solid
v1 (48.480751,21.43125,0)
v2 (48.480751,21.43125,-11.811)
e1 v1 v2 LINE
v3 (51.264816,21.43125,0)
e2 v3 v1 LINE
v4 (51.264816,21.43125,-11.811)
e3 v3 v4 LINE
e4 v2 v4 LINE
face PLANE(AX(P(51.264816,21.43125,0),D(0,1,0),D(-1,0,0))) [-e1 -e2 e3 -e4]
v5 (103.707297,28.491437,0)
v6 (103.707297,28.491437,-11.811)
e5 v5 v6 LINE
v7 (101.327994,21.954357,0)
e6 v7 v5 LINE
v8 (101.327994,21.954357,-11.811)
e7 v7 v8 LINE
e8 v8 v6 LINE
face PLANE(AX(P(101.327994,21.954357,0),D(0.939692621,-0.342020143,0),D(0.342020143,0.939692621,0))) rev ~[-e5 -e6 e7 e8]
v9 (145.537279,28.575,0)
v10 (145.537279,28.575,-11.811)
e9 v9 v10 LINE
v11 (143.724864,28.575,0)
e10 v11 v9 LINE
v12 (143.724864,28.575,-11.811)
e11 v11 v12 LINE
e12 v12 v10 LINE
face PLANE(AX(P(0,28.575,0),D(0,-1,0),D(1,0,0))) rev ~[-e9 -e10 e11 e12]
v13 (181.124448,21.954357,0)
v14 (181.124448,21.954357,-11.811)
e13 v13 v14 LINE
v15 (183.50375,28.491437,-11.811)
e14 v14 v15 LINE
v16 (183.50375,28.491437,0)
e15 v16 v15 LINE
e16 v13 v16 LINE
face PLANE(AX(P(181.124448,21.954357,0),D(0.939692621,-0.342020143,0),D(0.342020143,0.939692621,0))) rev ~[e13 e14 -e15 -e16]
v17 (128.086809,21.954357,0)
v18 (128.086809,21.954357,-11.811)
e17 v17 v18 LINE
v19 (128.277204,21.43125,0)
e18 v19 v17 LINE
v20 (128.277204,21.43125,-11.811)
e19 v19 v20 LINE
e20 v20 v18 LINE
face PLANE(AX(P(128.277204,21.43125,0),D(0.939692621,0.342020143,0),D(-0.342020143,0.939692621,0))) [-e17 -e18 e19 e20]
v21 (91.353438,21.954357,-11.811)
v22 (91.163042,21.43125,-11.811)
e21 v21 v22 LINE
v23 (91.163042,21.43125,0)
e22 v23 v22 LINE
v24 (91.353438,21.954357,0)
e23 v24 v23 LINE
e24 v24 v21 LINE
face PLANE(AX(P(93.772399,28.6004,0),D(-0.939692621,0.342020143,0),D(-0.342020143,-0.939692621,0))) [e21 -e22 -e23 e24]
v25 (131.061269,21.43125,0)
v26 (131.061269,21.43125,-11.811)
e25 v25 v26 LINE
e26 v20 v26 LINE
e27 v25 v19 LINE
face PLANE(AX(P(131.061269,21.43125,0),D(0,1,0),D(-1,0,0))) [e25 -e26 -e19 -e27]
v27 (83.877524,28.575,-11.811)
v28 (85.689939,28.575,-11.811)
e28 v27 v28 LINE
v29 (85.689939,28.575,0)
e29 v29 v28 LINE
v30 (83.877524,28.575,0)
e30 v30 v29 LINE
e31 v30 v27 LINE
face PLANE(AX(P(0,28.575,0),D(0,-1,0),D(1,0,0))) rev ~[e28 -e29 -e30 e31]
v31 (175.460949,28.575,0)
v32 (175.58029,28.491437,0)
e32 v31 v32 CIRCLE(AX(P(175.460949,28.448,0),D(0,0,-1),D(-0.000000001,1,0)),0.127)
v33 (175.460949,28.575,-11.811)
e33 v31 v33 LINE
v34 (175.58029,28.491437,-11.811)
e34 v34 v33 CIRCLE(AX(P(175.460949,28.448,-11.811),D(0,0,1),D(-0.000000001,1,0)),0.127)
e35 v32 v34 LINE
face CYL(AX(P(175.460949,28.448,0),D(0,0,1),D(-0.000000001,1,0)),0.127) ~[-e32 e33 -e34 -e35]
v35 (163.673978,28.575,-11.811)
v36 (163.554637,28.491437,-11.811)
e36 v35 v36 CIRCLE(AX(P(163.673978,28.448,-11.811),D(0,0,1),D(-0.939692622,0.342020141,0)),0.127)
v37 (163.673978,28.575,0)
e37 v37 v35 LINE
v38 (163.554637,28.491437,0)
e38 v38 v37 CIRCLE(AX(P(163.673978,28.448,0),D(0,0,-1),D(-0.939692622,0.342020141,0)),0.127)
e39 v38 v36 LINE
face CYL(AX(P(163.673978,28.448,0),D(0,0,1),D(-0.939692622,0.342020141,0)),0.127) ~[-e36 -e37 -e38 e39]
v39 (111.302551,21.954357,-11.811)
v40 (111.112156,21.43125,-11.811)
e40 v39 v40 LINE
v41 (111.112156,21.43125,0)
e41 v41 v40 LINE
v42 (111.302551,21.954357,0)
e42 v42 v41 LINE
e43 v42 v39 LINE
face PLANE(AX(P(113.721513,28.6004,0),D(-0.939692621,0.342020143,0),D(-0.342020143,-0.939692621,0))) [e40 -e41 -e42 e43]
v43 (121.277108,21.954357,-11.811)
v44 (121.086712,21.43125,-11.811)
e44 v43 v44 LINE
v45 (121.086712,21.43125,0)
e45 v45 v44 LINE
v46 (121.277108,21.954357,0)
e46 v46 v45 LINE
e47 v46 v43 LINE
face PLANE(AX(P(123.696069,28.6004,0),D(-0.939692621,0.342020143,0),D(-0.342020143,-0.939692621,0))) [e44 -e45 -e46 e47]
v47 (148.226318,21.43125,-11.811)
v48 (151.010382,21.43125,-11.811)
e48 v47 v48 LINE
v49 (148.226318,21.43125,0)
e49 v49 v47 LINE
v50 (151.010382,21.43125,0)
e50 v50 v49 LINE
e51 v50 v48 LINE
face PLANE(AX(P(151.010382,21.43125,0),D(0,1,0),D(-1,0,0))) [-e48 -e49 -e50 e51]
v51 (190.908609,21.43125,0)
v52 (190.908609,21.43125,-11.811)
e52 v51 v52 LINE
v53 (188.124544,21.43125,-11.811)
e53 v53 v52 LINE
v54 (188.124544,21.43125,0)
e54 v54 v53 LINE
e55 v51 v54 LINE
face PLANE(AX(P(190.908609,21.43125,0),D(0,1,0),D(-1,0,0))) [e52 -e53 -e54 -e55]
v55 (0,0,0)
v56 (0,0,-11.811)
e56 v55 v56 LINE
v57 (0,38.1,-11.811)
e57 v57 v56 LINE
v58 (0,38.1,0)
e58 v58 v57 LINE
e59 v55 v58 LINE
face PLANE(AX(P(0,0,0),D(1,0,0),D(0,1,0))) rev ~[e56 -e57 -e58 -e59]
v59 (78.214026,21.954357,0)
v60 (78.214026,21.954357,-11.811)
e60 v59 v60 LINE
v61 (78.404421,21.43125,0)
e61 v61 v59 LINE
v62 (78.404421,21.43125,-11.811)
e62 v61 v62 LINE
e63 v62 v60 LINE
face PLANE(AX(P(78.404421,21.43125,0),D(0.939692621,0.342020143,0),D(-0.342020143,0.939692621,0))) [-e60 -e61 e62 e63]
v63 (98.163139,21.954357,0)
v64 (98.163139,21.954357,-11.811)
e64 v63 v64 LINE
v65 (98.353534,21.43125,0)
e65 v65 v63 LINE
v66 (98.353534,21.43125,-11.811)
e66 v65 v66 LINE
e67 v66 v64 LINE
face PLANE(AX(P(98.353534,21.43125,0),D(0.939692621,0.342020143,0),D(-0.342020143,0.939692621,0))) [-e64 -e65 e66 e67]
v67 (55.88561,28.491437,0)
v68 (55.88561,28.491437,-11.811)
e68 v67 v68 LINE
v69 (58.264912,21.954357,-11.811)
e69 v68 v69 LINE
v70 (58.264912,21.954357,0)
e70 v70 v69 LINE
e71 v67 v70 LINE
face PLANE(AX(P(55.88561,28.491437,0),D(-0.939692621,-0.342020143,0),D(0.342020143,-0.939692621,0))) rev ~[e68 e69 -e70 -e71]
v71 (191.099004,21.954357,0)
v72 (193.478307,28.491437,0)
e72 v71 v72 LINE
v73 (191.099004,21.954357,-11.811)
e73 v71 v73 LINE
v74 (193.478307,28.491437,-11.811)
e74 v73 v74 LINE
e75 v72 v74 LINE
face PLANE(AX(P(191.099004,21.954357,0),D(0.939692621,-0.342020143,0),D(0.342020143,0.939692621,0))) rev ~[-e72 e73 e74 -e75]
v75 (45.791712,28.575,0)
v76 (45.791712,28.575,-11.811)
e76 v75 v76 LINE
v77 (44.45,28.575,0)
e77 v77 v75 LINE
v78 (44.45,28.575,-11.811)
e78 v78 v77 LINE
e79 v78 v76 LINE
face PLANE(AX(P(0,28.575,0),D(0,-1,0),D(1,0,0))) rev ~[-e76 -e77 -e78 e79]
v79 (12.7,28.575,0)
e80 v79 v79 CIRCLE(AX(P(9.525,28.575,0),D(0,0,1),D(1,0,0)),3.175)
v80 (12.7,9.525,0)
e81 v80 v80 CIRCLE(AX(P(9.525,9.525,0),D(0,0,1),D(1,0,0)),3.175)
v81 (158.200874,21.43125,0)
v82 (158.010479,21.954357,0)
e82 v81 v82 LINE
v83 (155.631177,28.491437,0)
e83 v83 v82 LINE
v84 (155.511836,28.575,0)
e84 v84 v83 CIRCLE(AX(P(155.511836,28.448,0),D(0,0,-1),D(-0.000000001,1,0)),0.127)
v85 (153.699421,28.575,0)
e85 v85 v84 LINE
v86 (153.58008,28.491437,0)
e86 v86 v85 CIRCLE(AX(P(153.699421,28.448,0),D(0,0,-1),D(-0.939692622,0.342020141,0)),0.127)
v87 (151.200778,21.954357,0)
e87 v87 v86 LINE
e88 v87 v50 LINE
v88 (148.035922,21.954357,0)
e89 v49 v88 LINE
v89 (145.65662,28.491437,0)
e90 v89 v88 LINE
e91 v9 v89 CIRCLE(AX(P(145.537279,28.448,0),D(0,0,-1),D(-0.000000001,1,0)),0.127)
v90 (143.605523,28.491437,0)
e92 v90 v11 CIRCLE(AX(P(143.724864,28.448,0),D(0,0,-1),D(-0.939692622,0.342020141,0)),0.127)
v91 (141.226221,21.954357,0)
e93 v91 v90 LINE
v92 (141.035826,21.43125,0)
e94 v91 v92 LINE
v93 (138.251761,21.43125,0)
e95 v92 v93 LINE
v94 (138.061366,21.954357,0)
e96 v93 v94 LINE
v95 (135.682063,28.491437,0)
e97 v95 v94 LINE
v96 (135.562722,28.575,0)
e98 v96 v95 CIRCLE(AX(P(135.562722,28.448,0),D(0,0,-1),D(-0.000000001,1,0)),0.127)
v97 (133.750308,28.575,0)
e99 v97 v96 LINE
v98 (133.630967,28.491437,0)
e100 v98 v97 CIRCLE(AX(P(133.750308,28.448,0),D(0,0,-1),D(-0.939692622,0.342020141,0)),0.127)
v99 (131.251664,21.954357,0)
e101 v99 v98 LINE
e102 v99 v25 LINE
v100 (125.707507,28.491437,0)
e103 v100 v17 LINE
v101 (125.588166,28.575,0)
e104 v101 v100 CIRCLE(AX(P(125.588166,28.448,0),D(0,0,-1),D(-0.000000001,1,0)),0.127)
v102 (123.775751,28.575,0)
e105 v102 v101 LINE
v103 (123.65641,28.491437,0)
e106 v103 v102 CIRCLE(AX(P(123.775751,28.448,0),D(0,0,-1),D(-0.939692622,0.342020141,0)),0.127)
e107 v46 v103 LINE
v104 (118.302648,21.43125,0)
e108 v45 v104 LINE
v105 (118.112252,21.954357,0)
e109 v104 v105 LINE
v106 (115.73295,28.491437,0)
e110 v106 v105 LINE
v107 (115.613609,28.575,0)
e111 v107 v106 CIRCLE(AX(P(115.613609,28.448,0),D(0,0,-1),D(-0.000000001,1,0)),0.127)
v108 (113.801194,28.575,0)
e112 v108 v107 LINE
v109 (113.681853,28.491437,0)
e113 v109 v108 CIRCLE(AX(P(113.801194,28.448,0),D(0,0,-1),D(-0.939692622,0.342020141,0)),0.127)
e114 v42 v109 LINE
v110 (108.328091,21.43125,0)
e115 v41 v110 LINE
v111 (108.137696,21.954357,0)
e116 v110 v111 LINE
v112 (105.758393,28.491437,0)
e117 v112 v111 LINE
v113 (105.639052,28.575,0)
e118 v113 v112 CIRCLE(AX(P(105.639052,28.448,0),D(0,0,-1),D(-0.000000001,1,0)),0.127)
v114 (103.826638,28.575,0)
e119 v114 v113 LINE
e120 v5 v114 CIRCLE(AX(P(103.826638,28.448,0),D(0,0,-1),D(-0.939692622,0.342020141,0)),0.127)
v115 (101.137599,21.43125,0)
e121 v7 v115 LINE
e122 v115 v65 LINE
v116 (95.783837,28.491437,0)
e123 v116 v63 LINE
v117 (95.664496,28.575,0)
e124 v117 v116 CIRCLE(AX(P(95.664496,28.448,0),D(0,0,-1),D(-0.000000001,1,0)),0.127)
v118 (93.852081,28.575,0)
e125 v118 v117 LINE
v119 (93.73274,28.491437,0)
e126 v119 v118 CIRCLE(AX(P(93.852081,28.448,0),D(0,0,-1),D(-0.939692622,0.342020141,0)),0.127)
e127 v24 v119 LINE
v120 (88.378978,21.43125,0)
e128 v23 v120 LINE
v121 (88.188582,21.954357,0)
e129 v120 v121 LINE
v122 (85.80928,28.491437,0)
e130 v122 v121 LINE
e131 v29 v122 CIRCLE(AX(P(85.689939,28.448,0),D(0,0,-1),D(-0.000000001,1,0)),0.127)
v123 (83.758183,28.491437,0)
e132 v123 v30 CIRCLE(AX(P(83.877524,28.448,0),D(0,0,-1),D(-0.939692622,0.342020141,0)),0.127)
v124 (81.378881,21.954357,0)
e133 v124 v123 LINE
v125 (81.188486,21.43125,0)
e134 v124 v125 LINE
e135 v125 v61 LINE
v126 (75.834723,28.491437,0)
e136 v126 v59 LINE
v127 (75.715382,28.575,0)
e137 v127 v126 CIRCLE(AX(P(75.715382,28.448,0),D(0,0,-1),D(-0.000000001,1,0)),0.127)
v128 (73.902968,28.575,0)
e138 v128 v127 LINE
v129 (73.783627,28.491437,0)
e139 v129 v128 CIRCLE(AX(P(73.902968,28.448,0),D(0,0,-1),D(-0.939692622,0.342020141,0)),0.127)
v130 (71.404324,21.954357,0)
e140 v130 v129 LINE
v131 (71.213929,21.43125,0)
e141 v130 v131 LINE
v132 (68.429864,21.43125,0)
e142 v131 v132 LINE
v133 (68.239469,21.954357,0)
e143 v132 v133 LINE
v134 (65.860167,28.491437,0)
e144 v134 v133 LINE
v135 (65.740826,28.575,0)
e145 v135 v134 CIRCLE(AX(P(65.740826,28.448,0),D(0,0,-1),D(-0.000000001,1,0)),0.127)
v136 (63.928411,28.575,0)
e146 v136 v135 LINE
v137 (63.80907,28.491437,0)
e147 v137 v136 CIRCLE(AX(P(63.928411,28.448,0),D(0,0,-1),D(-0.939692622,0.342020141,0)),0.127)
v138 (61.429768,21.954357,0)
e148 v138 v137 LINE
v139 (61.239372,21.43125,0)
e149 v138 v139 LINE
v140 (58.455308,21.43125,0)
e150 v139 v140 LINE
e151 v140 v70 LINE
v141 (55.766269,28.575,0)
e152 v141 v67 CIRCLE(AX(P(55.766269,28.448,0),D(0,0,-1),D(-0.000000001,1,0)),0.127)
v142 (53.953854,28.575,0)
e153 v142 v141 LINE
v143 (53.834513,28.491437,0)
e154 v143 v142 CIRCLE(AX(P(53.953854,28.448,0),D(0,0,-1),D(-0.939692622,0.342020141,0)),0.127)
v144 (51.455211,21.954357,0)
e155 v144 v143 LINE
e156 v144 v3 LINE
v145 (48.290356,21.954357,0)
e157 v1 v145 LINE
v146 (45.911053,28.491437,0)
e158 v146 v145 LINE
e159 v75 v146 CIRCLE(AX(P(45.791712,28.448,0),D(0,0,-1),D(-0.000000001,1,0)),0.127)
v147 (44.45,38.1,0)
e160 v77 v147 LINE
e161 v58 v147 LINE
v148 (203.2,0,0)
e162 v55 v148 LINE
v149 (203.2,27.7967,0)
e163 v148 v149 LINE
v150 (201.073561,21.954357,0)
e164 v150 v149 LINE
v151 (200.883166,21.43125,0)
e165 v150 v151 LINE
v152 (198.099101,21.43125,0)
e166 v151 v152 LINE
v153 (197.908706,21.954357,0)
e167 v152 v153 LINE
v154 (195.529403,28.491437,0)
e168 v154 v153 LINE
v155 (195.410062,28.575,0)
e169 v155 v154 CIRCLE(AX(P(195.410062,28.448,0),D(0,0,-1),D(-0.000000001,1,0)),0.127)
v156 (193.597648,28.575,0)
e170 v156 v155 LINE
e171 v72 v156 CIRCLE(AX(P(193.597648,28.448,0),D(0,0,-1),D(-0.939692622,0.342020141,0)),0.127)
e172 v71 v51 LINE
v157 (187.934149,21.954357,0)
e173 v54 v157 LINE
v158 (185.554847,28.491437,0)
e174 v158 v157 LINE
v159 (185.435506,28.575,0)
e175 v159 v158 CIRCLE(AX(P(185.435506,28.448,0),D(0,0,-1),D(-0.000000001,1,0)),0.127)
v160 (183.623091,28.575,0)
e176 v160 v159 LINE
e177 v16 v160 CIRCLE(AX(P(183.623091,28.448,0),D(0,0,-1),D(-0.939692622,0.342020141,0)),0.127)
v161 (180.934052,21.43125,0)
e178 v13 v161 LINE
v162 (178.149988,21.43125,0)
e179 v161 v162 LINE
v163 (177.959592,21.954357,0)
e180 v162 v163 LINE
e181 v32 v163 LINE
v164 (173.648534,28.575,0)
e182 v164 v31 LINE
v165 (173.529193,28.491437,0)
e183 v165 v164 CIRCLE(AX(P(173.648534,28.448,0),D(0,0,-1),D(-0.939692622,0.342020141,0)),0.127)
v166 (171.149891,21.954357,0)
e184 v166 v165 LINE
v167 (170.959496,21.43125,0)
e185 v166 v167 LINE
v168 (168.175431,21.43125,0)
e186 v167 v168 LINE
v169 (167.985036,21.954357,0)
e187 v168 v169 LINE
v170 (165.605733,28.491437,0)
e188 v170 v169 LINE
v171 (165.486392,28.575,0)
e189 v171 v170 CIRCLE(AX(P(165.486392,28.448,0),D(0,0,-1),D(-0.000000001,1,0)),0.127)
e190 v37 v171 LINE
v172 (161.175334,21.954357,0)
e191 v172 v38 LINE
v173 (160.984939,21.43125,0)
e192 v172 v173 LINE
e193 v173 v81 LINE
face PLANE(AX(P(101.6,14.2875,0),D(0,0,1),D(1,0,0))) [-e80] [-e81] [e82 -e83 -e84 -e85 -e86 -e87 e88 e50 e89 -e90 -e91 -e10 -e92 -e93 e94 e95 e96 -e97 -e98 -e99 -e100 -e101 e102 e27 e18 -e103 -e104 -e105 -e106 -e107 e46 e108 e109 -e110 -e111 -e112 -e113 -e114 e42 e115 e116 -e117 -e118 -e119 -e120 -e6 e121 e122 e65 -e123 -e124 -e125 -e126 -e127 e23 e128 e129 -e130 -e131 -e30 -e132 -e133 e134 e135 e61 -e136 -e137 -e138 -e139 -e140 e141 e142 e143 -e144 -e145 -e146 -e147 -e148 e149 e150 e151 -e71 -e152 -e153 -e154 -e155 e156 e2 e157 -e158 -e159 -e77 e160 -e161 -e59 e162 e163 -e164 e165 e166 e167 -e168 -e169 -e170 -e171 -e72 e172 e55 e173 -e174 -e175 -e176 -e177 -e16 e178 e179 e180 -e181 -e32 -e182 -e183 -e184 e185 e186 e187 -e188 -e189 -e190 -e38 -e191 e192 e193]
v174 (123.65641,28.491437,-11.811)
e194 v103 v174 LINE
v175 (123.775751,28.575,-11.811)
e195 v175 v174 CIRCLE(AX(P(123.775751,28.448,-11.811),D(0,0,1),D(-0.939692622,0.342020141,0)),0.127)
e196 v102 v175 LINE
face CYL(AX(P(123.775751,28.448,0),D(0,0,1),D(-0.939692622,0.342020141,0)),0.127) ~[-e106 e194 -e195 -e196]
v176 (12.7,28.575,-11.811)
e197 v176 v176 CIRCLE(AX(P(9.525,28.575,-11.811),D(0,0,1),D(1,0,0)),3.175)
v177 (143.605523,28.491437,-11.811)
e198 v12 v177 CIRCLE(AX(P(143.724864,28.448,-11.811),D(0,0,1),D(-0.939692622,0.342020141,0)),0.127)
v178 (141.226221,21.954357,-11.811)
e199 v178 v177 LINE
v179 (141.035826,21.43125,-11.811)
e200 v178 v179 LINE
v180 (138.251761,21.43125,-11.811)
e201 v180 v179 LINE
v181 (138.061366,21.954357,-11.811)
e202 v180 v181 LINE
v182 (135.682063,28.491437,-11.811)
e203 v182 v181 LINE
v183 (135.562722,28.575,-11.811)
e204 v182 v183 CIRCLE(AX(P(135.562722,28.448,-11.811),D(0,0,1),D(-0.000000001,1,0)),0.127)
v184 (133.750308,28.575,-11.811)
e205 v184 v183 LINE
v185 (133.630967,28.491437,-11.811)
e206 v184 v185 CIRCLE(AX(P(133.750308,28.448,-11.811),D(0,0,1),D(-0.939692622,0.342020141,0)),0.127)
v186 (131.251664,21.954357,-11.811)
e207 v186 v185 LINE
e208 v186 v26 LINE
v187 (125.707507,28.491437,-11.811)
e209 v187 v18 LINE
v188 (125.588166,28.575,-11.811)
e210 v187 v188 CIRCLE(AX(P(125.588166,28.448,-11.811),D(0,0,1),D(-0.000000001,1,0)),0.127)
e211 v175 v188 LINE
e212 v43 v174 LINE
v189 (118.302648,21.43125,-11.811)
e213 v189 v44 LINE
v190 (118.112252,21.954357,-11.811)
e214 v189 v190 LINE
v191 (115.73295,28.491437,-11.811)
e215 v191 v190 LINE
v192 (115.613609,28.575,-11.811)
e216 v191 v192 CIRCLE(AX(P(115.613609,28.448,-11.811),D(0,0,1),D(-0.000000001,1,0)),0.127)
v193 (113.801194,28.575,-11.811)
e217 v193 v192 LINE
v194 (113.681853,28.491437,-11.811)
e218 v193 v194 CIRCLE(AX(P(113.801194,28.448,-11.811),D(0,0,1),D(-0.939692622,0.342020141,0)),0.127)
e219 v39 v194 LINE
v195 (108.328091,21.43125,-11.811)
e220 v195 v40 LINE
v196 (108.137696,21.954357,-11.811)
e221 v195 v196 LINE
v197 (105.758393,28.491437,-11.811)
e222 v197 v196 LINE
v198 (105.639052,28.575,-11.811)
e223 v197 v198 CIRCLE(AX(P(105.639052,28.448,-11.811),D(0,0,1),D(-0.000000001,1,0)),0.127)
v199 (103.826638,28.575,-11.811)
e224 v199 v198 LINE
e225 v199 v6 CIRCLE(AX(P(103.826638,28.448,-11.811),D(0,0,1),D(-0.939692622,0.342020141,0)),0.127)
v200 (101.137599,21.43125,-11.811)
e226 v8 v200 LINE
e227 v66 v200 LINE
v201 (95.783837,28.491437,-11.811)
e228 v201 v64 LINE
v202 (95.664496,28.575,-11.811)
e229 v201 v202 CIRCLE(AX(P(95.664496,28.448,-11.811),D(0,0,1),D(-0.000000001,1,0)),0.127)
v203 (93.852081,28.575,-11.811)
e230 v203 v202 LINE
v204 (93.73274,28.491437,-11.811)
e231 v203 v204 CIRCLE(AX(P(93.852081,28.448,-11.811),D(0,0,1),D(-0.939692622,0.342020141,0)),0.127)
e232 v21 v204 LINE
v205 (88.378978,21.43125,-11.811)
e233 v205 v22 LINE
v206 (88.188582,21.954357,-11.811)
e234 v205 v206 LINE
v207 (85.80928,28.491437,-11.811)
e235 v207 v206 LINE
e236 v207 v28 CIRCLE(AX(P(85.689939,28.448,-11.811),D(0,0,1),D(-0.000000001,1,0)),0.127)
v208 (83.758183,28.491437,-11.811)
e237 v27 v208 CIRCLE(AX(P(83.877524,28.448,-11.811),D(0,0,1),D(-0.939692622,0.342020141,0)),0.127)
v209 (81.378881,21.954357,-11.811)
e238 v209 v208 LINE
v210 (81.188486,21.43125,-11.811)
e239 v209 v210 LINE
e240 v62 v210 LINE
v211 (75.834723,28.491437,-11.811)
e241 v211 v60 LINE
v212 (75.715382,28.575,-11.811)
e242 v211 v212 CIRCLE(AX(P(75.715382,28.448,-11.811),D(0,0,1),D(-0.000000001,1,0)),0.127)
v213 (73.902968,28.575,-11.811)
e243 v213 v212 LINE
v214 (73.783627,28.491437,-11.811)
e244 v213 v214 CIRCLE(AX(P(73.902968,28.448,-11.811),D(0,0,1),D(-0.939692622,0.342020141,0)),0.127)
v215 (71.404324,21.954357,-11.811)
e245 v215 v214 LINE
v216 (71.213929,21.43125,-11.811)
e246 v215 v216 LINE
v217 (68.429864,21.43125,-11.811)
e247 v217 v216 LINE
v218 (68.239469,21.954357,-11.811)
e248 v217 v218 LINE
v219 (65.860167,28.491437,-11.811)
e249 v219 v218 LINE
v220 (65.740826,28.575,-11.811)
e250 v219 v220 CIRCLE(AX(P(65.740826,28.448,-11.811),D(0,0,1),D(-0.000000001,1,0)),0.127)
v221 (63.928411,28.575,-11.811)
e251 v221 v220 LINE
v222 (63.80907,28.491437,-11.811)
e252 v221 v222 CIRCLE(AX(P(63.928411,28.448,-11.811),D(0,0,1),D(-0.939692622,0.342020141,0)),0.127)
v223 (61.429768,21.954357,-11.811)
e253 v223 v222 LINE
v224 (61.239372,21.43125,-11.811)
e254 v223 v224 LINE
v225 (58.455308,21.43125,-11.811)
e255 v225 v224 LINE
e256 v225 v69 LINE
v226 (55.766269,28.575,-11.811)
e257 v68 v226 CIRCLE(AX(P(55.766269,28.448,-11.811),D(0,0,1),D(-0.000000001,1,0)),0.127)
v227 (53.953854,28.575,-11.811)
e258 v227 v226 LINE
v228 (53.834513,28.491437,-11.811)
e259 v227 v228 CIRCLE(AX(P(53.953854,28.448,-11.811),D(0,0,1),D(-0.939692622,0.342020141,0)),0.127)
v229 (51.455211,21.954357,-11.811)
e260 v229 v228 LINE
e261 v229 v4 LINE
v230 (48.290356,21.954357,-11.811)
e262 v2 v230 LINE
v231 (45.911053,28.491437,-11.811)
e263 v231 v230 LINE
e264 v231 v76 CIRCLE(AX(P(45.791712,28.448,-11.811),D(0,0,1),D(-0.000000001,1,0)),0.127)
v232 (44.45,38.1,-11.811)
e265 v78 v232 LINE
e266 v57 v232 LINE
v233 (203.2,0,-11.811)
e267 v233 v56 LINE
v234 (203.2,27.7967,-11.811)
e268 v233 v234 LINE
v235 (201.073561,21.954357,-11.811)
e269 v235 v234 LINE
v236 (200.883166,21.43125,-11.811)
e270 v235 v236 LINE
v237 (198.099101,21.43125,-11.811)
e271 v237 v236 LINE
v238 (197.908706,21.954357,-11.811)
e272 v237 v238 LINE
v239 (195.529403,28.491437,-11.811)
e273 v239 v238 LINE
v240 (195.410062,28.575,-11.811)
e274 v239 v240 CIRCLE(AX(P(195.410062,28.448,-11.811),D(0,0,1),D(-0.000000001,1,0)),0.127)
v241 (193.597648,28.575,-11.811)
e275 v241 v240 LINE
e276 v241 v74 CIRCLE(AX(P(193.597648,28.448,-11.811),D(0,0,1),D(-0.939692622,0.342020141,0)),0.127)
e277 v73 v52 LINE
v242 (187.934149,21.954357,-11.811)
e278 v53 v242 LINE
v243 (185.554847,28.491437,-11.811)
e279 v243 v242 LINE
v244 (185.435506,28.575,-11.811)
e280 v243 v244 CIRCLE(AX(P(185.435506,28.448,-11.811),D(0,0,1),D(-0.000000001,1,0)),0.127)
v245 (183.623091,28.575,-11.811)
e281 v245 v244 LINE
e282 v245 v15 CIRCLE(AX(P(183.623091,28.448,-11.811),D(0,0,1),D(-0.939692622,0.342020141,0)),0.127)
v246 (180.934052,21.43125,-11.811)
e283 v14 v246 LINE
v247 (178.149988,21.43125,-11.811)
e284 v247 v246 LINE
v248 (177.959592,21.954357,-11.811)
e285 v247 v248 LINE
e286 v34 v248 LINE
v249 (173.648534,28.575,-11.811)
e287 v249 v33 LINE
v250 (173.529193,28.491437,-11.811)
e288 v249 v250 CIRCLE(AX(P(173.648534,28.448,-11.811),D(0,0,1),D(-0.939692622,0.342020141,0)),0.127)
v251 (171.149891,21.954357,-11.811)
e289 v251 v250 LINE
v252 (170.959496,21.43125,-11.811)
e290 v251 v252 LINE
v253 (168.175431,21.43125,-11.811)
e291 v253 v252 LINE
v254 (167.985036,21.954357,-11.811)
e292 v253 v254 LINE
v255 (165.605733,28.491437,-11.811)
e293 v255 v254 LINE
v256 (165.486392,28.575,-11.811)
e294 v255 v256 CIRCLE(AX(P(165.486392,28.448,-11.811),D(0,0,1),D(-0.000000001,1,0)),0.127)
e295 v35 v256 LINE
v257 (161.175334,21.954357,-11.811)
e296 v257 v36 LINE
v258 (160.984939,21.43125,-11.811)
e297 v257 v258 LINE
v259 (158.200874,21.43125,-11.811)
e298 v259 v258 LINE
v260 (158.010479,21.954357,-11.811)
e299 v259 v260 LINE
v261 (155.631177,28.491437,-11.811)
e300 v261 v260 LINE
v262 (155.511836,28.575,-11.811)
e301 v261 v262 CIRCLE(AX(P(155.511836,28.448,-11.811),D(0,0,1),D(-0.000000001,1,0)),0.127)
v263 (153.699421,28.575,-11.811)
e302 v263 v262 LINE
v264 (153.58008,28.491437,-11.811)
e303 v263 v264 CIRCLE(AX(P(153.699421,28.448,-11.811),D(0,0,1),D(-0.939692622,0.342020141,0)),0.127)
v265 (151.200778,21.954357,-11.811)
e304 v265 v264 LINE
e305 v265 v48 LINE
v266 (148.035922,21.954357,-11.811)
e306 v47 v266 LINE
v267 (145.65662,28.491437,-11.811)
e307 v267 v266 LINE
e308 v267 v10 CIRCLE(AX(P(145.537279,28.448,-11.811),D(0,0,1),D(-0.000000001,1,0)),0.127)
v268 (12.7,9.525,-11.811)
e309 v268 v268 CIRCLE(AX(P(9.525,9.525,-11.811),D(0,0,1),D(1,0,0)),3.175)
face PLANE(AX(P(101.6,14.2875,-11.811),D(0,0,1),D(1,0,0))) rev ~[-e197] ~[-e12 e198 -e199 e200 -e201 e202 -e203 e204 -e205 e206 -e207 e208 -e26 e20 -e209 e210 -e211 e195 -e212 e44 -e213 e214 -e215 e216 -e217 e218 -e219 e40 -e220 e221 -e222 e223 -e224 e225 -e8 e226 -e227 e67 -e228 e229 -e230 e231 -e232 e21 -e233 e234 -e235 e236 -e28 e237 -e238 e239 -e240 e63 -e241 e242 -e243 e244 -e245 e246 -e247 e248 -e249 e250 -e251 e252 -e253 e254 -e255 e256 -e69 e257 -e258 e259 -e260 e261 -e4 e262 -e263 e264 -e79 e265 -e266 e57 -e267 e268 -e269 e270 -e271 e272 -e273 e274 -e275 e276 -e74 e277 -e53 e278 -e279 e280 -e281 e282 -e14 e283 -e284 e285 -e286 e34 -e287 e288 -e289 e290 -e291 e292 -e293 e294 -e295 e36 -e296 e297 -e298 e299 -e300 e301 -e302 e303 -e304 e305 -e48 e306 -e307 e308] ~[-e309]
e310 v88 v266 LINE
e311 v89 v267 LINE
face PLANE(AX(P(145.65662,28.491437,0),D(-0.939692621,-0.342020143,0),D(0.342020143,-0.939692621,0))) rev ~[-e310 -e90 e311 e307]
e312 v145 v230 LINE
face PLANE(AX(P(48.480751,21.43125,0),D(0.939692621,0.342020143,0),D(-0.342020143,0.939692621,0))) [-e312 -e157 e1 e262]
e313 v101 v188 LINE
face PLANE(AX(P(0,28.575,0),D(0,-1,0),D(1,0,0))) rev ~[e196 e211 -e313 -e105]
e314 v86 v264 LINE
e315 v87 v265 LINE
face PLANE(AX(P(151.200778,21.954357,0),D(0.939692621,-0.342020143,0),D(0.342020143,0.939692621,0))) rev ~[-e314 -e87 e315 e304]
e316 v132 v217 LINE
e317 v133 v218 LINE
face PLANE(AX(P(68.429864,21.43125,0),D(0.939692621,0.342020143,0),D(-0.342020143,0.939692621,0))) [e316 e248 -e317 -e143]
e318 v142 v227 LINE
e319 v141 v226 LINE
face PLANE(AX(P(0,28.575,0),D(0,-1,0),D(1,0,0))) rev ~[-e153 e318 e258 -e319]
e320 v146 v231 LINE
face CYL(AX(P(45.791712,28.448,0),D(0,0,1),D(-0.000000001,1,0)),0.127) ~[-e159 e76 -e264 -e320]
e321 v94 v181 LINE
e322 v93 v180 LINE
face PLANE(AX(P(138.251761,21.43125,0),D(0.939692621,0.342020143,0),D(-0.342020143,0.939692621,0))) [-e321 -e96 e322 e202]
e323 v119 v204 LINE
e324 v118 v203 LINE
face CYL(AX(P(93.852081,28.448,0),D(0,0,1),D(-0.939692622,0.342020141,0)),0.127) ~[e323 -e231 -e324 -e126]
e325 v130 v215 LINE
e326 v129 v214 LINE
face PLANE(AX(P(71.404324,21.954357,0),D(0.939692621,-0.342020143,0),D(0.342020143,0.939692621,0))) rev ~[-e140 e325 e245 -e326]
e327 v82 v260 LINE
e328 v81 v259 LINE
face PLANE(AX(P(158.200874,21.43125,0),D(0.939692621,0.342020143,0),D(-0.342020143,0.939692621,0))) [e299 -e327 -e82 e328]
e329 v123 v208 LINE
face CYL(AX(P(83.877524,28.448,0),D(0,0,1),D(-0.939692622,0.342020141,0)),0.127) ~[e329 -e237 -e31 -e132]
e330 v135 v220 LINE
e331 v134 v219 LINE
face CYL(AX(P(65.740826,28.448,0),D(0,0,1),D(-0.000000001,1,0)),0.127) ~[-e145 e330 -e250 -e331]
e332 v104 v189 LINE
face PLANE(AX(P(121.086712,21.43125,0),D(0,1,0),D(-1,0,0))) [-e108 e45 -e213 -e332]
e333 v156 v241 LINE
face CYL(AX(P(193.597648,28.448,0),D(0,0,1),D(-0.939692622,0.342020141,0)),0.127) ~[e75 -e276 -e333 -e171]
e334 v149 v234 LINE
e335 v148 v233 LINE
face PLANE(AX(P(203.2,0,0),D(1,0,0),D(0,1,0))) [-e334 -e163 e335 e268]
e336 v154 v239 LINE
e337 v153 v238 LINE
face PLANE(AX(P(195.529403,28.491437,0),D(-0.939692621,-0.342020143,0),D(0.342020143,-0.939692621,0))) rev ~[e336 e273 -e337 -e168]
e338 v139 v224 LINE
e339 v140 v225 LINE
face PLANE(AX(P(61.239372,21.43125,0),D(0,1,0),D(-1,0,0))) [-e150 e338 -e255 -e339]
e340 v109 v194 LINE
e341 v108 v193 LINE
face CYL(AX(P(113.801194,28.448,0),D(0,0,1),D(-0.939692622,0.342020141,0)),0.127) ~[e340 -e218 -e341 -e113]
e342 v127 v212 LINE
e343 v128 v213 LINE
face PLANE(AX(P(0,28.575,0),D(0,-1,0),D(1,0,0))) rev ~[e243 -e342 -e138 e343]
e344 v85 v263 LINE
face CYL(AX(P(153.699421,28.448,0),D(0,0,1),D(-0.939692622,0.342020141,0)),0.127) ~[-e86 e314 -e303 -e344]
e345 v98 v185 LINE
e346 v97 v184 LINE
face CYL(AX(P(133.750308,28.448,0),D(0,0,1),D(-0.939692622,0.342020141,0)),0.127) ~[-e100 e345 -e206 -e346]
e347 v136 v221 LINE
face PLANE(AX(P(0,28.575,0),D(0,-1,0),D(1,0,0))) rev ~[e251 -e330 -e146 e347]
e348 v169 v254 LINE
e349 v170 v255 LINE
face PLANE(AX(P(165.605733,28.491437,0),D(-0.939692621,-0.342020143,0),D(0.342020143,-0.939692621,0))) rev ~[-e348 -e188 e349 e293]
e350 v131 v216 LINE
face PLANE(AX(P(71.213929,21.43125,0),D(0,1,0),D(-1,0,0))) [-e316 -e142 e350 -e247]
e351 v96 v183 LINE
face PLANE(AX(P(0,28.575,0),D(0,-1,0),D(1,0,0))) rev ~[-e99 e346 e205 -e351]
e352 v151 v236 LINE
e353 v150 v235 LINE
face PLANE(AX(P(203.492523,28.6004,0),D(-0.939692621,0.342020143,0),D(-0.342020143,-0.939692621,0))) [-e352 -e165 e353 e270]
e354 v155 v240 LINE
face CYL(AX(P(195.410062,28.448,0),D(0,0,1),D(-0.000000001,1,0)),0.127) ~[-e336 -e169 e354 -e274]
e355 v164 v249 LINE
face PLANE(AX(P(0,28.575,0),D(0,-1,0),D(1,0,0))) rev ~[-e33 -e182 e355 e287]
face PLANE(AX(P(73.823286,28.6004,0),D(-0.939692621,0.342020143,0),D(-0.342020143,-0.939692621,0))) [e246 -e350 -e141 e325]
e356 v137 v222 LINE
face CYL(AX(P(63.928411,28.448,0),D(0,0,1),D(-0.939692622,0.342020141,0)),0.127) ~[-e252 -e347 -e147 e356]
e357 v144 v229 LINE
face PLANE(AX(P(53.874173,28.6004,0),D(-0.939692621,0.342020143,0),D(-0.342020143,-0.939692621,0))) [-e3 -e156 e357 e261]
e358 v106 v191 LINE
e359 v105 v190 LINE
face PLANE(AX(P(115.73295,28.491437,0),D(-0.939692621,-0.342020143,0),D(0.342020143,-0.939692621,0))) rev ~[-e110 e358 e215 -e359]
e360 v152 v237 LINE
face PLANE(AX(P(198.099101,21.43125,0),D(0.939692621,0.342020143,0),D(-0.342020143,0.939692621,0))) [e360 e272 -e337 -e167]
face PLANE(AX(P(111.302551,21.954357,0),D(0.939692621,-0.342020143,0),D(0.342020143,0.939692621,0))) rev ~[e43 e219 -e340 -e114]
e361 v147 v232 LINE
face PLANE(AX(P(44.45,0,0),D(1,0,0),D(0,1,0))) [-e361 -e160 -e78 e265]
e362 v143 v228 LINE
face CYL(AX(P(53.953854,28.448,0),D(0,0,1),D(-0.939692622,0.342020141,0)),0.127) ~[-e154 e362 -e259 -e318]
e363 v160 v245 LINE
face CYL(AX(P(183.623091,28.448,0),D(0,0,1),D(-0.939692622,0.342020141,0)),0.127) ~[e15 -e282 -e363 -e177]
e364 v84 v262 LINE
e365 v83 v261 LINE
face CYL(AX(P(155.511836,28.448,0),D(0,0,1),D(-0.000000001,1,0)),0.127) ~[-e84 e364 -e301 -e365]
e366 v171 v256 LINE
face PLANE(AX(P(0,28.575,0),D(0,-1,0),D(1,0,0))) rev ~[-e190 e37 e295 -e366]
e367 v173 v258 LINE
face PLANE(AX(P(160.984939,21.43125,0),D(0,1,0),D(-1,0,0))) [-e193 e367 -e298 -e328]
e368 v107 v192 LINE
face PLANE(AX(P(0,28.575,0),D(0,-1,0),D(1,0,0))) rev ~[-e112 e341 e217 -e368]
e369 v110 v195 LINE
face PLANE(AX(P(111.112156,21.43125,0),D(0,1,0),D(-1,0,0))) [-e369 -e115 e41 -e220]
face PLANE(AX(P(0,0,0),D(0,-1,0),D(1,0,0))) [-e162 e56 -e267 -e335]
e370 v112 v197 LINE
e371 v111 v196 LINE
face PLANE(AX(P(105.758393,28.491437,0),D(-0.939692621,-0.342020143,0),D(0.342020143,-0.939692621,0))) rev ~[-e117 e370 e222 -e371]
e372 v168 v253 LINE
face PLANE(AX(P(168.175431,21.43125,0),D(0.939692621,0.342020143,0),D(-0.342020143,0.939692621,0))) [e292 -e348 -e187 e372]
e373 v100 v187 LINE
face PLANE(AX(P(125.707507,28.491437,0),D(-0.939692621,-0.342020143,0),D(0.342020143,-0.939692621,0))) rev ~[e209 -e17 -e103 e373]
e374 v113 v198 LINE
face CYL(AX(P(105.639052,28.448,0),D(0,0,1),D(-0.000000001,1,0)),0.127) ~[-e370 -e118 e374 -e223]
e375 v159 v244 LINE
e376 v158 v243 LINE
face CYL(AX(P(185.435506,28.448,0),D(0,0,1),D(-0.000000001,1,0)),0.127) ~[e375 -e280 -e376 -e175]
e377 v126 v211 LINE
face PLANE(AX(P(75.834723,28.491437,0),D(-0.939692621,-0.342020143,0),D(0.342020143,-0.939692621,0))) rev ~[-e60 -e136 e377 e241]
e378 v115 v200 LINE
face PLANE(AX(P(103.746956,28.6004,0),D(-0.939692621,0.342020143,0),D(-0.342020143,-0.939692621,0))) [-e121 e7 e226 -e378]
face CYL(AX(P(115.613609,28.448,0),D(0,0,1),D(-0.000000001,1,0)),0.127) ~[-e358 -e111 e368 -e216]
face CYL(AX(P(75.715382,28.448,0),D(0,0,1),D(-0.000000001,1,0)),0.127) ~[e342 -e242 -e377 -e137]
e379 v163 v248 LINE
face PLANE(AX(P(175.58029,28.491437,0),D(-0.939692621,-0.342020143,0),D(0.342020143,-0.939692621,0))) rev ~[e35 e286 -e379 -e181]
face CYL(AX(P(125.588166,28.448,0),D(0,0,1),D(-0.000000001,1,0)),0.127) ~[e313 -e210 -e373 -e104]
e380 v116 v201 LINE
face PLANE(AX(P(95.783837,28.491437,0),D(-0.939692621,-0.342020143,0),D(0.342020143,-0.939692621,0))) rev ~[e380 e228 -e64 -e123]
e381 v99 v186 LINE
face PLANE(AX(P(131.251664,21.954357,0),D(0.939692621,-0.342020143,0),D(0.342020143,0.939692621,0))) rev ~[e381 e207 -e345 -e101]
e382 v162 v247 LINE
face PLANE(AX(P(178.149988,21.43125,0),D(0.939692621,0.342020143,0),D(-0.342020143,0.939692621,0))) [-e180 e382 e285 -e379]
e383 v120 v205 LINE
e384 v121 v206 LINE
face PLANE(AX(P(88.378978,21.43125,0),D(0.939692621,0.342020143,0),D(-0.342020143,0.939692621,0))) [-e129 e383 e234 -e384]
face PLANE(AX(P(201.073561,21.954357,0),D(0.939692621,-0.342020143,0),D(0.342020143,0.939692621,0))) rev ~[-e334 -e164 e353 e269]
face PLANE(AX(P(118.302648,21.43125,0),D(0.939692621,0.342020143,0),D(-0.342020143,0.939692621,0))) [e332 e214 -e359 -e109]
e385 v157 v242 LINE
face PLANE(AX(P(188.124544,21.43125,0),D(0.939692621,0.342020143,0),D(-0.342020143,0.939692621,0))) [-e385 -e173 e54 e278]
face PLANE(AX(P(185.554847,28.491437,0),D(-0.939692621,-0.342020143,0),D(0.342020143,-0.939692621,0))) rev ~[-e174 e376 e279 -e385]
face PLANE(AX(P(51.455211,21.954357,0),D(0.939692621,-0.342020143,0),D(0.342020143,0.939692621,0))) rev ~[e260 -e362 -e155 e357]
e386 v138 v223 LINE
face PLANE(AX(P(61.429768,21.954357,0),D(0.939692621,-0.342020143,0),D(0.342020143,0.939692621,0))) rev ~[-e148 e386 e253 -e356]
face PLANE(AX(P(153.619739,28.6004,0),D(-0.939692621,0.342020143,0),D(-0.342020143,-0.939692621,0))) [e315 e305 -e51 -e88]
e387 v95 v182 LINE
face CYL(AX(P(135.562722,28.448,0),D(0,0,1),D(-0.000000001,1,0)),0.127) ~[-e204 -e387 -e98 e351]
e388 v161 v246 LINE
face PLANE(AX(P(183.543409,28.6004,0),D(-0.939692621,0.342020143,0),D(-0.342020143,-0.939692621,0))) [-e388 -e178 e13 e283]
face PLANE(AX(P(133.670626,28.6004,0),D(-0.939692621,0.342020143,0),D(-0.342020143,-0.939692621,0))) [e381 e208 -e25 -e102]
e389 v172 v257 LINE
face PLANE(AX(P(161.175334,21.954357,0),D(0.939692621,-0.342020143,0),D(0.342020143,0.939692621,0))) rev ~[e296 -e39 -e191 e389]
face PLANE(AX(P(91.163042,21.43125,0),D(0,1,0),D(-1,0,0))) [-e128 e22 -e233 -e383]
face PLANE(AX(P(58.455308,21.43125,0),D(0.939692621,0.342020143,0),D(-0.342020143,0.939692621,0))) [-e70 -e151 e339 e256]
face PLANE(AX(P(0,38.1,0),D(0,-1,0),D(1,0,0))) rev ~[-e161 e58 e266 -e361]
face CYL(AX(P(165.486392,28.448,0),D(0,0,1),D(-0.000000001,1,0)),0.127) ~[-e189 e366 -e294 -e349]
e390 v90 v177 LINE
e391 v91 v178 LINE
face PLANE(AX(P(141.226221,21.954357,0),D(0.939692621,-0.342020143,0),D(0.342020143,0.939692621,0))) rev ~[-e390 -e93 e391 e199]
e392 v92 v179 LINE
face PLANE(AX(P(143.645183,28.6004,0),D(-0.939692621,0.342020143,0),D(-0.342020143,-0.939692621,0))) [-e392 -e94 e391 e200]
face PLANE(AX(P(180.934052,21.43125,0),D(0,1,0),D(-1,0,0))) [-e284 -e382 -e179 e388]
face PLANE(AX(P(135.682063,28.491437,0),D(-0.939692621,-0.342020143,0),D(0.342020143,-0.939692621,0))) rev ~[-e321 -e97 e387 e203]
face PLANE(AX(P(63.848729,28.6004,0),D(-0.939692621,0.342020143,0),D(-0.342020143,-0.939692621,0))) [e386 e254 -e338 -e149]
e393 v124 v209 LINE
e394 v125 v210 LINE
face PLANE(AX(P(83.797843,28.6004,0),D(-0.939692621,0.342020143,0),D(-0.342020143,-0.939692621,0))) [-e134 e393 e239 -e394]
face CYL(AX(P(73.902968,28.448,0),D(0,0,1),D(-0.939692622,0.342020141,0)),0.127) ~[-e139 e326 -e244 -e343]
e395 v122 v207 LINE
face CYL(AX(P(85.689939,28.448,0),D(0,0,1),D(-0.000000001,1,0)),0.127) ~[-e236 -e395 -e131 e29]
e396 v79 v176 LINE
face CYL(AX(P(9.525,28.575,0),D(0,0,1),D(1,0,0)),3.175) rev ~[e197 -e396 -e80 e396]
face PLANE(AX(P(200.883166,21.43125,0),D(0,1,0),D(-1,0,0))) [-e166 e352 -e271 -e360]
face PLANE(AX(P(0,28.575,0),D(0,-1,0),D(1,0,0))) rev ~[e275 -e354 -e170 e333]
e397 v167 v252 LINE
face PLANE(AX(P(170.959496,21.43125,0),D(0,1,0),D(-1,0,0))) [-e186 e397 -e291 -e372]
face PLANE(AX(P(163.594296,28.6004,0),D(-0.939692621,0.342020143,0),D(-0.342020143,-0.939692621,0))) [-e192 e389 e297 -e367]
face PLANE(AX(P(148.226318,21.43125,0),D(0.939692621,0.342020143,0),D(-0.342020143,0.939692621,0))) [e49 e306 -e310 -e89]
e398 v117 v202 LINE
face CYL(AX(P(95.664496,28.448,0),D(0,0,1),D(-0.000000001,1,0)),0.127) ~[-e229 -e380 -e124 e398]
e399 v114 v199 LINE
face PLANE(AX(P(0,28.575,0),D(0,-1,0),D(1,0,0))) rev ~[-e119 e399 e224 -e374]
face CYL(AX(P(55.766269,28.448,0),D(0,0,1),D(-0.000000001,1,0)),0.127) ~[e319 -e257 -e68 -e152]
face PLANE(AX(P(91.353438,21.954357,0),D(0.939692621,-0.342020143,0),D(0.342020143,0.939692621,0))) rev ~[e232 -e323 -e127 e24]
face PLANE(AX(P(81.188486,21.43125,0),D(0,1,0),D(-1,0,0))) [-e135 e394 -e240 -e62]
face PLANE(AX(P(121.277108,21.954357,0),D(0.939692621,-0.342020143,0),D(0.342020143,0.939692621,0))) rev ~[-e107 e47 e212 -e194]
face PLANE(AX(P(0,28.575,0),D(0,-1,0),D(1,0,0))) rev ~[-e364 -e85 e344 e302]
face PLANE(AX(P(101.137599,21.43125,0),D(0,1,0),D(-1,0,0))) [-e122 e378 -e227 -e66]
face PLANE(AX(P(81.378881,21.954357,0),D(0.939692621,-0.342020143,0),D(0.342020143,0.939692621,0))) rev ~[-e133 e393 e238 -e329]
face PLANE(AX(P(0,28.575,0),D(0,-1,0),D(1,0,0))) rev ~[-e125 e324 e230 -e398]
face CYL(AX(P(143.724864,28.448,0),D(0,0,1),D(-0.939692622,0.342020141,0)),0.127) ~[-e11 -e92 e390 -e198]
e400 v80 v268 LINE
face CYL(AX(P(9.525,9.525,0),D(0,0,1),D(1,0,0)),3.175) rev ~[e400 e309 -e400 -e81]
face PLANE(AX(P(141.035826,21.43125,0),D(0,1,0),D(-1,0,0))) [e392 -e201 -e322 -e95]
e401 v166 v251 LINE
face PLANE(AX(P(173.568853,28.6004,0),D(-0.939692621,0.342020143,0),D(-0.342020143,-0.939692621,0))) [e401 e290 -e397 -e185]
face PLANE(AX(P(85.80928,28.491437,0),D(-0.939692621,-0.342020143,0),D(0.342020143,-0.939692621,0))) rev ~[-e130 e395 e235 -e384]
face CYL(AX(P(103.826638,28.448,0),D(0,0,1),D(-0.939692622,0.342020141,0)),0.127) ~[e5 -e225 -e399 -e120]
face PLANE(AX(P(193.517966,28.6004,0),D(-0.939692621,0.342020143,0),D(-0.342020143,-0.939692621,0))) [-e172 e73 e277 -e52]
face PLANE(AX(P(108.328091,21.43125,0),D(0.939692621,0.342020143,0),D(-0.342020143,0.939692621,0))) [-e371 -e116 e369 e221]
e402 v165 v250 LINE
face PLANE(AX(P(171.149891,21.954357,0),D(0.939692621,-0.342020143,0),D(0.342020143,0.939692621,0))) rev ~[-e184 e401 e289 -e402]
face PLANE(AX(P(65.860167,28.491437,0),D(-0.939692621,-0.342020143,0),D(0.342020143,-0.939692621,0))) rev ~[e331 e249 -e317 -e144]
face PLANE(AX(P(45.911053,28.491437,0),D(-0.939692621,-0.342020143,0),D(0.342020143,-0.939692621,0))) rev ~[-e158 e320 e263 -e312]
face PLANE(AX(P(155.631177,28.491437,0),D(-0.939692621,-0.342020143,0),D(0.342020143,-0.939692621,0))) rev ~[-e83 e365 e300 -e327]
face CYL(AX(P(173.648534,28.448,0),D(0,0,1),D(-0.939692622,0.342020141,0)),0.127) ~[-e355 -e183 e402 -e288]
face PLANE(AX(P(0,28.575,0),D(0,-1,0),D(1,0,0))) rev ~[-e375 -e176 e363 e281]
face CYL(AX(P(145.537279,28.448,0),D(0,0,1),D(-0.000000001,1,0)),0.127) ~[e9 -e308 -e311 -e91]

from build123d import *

# Parameters (mm, degrees)
BLANKSKE_W          = 203.2
BLANKSKE_H          = 28.575
BLANK_DEPTH         = 11.811
TOOTHCUTILL_DEPTH   = 12.811
TOOTHCUTSIM_DEPTH   = 12.811
TEETHCUTS_COUNT     = 22
TEETHCUTS_PITCH     = 9.974556664
SKETCH1_W           = 44.45
SKETCH1_H           = 38.1
BOSS_EXTRUDE1_DEPTH = 11.811
SKETCH2_R           = 3.175
CUT_EXTRUDE1_DEPTH  = 12.811


with BuildPart() as part:
    # BlankSke → Blank (new body)
    with BuildSketch(Plane.XY):
        with Locations((101.6, 14.2875)):
            Rectangle(BLANKSKE_W, BLANKSKE_H)
    extrude(amount=-BLANK_DEPTH)

    # TooCutSkeIll → ToothCutIll (cut, through all)
    with BuildSketch(Plane.XY):
        with BuildLine():
            Line((-3.961730054, 28.491436558), (-1.582427729, 21.954357146))
            ThreePointArc((-1.582427729, 21.954357146), (-1.29135804, 21.575027742), (-0.835353302, 21.43125))
            Line((-0.835353302, 21.43125), (0.835353302, 21.43125))
            ThreePointArc((0.835353302, 21.43125), (1.29135804, 21.575027742), (1.582427729, 21.954357146))
            Line((1.582427729, 21.954357146), (3.961730054, 28.491436558))
            ThreePointArc((3.961730054, 28.491436558), (4.00822681, 28.55203231), (4.081071017, 28.575))
            Line((4.081071017, 28.575), (4.081071017, 28.6004))
            Line((4.081071017, 28.6004), (-4.081071017, 28.6004))
            Line((-4.081071017, 28.6004), (-4.081071017, 28.575))
            ThreePointArc((-4.081071017, 28.575), (-4.00822681, 28.55203231), (-3.961730054, 28.491436558))
        make_face()
    toothcutill = extrude(amount=-TOOTHCUTILL_DEPTH, mode=Mode.SUBTRACT)

    # TooCutSkeSim → ToothCutSim (cut, through all)
    with BuildSketch(Plane.XY):
        Polygon((1.392032299, 21.43125), (-1.392032299, 21.43125), (-4.001389504, 28.6004), (4.001389504, 28.6004), align=None)
    toothcutsim = extrude(amount=-TOOTHCUTSIM_DEPTH, mode=Mode.SUBTRACT)

    # TeethCuts: ToothCutIll, ToothCutSim ×22
    with Locations(*[(i * TEETHCUTS_PITCH, 0, 0) for i in range(1, TEETHCUTS_COUNT)]):
        add(toothcutill, mode=Mode.SUBTRACT)
        add(toothcutsim, mode=Mode.SUBTRACT)

    # Sketch1 → Boss-Extrude1 (add)
    with BuildSketch(Plane.XY):
        with Locations((22.225, 19.05)):
            Rectangle(SKETCH1_W, SKETCH1_H)
    extrude(amount=-BOSS_EXTRUDE1_DEPTH)

    # Sketch2 → Cut-Extrude1 (cut, through all)
    with BuildSketch(Plane.XY):
        with Locations((9.525, 28.575)):
            Circle(SKETCH2_R)
        with Locations((9.525, 9.525)):
            Circle(SKETCH2_R)
    extrude(amount=-CUT_EXTRUDE1_DEPTH, mode=Mode.SUBTRACT)


solid = part.part
